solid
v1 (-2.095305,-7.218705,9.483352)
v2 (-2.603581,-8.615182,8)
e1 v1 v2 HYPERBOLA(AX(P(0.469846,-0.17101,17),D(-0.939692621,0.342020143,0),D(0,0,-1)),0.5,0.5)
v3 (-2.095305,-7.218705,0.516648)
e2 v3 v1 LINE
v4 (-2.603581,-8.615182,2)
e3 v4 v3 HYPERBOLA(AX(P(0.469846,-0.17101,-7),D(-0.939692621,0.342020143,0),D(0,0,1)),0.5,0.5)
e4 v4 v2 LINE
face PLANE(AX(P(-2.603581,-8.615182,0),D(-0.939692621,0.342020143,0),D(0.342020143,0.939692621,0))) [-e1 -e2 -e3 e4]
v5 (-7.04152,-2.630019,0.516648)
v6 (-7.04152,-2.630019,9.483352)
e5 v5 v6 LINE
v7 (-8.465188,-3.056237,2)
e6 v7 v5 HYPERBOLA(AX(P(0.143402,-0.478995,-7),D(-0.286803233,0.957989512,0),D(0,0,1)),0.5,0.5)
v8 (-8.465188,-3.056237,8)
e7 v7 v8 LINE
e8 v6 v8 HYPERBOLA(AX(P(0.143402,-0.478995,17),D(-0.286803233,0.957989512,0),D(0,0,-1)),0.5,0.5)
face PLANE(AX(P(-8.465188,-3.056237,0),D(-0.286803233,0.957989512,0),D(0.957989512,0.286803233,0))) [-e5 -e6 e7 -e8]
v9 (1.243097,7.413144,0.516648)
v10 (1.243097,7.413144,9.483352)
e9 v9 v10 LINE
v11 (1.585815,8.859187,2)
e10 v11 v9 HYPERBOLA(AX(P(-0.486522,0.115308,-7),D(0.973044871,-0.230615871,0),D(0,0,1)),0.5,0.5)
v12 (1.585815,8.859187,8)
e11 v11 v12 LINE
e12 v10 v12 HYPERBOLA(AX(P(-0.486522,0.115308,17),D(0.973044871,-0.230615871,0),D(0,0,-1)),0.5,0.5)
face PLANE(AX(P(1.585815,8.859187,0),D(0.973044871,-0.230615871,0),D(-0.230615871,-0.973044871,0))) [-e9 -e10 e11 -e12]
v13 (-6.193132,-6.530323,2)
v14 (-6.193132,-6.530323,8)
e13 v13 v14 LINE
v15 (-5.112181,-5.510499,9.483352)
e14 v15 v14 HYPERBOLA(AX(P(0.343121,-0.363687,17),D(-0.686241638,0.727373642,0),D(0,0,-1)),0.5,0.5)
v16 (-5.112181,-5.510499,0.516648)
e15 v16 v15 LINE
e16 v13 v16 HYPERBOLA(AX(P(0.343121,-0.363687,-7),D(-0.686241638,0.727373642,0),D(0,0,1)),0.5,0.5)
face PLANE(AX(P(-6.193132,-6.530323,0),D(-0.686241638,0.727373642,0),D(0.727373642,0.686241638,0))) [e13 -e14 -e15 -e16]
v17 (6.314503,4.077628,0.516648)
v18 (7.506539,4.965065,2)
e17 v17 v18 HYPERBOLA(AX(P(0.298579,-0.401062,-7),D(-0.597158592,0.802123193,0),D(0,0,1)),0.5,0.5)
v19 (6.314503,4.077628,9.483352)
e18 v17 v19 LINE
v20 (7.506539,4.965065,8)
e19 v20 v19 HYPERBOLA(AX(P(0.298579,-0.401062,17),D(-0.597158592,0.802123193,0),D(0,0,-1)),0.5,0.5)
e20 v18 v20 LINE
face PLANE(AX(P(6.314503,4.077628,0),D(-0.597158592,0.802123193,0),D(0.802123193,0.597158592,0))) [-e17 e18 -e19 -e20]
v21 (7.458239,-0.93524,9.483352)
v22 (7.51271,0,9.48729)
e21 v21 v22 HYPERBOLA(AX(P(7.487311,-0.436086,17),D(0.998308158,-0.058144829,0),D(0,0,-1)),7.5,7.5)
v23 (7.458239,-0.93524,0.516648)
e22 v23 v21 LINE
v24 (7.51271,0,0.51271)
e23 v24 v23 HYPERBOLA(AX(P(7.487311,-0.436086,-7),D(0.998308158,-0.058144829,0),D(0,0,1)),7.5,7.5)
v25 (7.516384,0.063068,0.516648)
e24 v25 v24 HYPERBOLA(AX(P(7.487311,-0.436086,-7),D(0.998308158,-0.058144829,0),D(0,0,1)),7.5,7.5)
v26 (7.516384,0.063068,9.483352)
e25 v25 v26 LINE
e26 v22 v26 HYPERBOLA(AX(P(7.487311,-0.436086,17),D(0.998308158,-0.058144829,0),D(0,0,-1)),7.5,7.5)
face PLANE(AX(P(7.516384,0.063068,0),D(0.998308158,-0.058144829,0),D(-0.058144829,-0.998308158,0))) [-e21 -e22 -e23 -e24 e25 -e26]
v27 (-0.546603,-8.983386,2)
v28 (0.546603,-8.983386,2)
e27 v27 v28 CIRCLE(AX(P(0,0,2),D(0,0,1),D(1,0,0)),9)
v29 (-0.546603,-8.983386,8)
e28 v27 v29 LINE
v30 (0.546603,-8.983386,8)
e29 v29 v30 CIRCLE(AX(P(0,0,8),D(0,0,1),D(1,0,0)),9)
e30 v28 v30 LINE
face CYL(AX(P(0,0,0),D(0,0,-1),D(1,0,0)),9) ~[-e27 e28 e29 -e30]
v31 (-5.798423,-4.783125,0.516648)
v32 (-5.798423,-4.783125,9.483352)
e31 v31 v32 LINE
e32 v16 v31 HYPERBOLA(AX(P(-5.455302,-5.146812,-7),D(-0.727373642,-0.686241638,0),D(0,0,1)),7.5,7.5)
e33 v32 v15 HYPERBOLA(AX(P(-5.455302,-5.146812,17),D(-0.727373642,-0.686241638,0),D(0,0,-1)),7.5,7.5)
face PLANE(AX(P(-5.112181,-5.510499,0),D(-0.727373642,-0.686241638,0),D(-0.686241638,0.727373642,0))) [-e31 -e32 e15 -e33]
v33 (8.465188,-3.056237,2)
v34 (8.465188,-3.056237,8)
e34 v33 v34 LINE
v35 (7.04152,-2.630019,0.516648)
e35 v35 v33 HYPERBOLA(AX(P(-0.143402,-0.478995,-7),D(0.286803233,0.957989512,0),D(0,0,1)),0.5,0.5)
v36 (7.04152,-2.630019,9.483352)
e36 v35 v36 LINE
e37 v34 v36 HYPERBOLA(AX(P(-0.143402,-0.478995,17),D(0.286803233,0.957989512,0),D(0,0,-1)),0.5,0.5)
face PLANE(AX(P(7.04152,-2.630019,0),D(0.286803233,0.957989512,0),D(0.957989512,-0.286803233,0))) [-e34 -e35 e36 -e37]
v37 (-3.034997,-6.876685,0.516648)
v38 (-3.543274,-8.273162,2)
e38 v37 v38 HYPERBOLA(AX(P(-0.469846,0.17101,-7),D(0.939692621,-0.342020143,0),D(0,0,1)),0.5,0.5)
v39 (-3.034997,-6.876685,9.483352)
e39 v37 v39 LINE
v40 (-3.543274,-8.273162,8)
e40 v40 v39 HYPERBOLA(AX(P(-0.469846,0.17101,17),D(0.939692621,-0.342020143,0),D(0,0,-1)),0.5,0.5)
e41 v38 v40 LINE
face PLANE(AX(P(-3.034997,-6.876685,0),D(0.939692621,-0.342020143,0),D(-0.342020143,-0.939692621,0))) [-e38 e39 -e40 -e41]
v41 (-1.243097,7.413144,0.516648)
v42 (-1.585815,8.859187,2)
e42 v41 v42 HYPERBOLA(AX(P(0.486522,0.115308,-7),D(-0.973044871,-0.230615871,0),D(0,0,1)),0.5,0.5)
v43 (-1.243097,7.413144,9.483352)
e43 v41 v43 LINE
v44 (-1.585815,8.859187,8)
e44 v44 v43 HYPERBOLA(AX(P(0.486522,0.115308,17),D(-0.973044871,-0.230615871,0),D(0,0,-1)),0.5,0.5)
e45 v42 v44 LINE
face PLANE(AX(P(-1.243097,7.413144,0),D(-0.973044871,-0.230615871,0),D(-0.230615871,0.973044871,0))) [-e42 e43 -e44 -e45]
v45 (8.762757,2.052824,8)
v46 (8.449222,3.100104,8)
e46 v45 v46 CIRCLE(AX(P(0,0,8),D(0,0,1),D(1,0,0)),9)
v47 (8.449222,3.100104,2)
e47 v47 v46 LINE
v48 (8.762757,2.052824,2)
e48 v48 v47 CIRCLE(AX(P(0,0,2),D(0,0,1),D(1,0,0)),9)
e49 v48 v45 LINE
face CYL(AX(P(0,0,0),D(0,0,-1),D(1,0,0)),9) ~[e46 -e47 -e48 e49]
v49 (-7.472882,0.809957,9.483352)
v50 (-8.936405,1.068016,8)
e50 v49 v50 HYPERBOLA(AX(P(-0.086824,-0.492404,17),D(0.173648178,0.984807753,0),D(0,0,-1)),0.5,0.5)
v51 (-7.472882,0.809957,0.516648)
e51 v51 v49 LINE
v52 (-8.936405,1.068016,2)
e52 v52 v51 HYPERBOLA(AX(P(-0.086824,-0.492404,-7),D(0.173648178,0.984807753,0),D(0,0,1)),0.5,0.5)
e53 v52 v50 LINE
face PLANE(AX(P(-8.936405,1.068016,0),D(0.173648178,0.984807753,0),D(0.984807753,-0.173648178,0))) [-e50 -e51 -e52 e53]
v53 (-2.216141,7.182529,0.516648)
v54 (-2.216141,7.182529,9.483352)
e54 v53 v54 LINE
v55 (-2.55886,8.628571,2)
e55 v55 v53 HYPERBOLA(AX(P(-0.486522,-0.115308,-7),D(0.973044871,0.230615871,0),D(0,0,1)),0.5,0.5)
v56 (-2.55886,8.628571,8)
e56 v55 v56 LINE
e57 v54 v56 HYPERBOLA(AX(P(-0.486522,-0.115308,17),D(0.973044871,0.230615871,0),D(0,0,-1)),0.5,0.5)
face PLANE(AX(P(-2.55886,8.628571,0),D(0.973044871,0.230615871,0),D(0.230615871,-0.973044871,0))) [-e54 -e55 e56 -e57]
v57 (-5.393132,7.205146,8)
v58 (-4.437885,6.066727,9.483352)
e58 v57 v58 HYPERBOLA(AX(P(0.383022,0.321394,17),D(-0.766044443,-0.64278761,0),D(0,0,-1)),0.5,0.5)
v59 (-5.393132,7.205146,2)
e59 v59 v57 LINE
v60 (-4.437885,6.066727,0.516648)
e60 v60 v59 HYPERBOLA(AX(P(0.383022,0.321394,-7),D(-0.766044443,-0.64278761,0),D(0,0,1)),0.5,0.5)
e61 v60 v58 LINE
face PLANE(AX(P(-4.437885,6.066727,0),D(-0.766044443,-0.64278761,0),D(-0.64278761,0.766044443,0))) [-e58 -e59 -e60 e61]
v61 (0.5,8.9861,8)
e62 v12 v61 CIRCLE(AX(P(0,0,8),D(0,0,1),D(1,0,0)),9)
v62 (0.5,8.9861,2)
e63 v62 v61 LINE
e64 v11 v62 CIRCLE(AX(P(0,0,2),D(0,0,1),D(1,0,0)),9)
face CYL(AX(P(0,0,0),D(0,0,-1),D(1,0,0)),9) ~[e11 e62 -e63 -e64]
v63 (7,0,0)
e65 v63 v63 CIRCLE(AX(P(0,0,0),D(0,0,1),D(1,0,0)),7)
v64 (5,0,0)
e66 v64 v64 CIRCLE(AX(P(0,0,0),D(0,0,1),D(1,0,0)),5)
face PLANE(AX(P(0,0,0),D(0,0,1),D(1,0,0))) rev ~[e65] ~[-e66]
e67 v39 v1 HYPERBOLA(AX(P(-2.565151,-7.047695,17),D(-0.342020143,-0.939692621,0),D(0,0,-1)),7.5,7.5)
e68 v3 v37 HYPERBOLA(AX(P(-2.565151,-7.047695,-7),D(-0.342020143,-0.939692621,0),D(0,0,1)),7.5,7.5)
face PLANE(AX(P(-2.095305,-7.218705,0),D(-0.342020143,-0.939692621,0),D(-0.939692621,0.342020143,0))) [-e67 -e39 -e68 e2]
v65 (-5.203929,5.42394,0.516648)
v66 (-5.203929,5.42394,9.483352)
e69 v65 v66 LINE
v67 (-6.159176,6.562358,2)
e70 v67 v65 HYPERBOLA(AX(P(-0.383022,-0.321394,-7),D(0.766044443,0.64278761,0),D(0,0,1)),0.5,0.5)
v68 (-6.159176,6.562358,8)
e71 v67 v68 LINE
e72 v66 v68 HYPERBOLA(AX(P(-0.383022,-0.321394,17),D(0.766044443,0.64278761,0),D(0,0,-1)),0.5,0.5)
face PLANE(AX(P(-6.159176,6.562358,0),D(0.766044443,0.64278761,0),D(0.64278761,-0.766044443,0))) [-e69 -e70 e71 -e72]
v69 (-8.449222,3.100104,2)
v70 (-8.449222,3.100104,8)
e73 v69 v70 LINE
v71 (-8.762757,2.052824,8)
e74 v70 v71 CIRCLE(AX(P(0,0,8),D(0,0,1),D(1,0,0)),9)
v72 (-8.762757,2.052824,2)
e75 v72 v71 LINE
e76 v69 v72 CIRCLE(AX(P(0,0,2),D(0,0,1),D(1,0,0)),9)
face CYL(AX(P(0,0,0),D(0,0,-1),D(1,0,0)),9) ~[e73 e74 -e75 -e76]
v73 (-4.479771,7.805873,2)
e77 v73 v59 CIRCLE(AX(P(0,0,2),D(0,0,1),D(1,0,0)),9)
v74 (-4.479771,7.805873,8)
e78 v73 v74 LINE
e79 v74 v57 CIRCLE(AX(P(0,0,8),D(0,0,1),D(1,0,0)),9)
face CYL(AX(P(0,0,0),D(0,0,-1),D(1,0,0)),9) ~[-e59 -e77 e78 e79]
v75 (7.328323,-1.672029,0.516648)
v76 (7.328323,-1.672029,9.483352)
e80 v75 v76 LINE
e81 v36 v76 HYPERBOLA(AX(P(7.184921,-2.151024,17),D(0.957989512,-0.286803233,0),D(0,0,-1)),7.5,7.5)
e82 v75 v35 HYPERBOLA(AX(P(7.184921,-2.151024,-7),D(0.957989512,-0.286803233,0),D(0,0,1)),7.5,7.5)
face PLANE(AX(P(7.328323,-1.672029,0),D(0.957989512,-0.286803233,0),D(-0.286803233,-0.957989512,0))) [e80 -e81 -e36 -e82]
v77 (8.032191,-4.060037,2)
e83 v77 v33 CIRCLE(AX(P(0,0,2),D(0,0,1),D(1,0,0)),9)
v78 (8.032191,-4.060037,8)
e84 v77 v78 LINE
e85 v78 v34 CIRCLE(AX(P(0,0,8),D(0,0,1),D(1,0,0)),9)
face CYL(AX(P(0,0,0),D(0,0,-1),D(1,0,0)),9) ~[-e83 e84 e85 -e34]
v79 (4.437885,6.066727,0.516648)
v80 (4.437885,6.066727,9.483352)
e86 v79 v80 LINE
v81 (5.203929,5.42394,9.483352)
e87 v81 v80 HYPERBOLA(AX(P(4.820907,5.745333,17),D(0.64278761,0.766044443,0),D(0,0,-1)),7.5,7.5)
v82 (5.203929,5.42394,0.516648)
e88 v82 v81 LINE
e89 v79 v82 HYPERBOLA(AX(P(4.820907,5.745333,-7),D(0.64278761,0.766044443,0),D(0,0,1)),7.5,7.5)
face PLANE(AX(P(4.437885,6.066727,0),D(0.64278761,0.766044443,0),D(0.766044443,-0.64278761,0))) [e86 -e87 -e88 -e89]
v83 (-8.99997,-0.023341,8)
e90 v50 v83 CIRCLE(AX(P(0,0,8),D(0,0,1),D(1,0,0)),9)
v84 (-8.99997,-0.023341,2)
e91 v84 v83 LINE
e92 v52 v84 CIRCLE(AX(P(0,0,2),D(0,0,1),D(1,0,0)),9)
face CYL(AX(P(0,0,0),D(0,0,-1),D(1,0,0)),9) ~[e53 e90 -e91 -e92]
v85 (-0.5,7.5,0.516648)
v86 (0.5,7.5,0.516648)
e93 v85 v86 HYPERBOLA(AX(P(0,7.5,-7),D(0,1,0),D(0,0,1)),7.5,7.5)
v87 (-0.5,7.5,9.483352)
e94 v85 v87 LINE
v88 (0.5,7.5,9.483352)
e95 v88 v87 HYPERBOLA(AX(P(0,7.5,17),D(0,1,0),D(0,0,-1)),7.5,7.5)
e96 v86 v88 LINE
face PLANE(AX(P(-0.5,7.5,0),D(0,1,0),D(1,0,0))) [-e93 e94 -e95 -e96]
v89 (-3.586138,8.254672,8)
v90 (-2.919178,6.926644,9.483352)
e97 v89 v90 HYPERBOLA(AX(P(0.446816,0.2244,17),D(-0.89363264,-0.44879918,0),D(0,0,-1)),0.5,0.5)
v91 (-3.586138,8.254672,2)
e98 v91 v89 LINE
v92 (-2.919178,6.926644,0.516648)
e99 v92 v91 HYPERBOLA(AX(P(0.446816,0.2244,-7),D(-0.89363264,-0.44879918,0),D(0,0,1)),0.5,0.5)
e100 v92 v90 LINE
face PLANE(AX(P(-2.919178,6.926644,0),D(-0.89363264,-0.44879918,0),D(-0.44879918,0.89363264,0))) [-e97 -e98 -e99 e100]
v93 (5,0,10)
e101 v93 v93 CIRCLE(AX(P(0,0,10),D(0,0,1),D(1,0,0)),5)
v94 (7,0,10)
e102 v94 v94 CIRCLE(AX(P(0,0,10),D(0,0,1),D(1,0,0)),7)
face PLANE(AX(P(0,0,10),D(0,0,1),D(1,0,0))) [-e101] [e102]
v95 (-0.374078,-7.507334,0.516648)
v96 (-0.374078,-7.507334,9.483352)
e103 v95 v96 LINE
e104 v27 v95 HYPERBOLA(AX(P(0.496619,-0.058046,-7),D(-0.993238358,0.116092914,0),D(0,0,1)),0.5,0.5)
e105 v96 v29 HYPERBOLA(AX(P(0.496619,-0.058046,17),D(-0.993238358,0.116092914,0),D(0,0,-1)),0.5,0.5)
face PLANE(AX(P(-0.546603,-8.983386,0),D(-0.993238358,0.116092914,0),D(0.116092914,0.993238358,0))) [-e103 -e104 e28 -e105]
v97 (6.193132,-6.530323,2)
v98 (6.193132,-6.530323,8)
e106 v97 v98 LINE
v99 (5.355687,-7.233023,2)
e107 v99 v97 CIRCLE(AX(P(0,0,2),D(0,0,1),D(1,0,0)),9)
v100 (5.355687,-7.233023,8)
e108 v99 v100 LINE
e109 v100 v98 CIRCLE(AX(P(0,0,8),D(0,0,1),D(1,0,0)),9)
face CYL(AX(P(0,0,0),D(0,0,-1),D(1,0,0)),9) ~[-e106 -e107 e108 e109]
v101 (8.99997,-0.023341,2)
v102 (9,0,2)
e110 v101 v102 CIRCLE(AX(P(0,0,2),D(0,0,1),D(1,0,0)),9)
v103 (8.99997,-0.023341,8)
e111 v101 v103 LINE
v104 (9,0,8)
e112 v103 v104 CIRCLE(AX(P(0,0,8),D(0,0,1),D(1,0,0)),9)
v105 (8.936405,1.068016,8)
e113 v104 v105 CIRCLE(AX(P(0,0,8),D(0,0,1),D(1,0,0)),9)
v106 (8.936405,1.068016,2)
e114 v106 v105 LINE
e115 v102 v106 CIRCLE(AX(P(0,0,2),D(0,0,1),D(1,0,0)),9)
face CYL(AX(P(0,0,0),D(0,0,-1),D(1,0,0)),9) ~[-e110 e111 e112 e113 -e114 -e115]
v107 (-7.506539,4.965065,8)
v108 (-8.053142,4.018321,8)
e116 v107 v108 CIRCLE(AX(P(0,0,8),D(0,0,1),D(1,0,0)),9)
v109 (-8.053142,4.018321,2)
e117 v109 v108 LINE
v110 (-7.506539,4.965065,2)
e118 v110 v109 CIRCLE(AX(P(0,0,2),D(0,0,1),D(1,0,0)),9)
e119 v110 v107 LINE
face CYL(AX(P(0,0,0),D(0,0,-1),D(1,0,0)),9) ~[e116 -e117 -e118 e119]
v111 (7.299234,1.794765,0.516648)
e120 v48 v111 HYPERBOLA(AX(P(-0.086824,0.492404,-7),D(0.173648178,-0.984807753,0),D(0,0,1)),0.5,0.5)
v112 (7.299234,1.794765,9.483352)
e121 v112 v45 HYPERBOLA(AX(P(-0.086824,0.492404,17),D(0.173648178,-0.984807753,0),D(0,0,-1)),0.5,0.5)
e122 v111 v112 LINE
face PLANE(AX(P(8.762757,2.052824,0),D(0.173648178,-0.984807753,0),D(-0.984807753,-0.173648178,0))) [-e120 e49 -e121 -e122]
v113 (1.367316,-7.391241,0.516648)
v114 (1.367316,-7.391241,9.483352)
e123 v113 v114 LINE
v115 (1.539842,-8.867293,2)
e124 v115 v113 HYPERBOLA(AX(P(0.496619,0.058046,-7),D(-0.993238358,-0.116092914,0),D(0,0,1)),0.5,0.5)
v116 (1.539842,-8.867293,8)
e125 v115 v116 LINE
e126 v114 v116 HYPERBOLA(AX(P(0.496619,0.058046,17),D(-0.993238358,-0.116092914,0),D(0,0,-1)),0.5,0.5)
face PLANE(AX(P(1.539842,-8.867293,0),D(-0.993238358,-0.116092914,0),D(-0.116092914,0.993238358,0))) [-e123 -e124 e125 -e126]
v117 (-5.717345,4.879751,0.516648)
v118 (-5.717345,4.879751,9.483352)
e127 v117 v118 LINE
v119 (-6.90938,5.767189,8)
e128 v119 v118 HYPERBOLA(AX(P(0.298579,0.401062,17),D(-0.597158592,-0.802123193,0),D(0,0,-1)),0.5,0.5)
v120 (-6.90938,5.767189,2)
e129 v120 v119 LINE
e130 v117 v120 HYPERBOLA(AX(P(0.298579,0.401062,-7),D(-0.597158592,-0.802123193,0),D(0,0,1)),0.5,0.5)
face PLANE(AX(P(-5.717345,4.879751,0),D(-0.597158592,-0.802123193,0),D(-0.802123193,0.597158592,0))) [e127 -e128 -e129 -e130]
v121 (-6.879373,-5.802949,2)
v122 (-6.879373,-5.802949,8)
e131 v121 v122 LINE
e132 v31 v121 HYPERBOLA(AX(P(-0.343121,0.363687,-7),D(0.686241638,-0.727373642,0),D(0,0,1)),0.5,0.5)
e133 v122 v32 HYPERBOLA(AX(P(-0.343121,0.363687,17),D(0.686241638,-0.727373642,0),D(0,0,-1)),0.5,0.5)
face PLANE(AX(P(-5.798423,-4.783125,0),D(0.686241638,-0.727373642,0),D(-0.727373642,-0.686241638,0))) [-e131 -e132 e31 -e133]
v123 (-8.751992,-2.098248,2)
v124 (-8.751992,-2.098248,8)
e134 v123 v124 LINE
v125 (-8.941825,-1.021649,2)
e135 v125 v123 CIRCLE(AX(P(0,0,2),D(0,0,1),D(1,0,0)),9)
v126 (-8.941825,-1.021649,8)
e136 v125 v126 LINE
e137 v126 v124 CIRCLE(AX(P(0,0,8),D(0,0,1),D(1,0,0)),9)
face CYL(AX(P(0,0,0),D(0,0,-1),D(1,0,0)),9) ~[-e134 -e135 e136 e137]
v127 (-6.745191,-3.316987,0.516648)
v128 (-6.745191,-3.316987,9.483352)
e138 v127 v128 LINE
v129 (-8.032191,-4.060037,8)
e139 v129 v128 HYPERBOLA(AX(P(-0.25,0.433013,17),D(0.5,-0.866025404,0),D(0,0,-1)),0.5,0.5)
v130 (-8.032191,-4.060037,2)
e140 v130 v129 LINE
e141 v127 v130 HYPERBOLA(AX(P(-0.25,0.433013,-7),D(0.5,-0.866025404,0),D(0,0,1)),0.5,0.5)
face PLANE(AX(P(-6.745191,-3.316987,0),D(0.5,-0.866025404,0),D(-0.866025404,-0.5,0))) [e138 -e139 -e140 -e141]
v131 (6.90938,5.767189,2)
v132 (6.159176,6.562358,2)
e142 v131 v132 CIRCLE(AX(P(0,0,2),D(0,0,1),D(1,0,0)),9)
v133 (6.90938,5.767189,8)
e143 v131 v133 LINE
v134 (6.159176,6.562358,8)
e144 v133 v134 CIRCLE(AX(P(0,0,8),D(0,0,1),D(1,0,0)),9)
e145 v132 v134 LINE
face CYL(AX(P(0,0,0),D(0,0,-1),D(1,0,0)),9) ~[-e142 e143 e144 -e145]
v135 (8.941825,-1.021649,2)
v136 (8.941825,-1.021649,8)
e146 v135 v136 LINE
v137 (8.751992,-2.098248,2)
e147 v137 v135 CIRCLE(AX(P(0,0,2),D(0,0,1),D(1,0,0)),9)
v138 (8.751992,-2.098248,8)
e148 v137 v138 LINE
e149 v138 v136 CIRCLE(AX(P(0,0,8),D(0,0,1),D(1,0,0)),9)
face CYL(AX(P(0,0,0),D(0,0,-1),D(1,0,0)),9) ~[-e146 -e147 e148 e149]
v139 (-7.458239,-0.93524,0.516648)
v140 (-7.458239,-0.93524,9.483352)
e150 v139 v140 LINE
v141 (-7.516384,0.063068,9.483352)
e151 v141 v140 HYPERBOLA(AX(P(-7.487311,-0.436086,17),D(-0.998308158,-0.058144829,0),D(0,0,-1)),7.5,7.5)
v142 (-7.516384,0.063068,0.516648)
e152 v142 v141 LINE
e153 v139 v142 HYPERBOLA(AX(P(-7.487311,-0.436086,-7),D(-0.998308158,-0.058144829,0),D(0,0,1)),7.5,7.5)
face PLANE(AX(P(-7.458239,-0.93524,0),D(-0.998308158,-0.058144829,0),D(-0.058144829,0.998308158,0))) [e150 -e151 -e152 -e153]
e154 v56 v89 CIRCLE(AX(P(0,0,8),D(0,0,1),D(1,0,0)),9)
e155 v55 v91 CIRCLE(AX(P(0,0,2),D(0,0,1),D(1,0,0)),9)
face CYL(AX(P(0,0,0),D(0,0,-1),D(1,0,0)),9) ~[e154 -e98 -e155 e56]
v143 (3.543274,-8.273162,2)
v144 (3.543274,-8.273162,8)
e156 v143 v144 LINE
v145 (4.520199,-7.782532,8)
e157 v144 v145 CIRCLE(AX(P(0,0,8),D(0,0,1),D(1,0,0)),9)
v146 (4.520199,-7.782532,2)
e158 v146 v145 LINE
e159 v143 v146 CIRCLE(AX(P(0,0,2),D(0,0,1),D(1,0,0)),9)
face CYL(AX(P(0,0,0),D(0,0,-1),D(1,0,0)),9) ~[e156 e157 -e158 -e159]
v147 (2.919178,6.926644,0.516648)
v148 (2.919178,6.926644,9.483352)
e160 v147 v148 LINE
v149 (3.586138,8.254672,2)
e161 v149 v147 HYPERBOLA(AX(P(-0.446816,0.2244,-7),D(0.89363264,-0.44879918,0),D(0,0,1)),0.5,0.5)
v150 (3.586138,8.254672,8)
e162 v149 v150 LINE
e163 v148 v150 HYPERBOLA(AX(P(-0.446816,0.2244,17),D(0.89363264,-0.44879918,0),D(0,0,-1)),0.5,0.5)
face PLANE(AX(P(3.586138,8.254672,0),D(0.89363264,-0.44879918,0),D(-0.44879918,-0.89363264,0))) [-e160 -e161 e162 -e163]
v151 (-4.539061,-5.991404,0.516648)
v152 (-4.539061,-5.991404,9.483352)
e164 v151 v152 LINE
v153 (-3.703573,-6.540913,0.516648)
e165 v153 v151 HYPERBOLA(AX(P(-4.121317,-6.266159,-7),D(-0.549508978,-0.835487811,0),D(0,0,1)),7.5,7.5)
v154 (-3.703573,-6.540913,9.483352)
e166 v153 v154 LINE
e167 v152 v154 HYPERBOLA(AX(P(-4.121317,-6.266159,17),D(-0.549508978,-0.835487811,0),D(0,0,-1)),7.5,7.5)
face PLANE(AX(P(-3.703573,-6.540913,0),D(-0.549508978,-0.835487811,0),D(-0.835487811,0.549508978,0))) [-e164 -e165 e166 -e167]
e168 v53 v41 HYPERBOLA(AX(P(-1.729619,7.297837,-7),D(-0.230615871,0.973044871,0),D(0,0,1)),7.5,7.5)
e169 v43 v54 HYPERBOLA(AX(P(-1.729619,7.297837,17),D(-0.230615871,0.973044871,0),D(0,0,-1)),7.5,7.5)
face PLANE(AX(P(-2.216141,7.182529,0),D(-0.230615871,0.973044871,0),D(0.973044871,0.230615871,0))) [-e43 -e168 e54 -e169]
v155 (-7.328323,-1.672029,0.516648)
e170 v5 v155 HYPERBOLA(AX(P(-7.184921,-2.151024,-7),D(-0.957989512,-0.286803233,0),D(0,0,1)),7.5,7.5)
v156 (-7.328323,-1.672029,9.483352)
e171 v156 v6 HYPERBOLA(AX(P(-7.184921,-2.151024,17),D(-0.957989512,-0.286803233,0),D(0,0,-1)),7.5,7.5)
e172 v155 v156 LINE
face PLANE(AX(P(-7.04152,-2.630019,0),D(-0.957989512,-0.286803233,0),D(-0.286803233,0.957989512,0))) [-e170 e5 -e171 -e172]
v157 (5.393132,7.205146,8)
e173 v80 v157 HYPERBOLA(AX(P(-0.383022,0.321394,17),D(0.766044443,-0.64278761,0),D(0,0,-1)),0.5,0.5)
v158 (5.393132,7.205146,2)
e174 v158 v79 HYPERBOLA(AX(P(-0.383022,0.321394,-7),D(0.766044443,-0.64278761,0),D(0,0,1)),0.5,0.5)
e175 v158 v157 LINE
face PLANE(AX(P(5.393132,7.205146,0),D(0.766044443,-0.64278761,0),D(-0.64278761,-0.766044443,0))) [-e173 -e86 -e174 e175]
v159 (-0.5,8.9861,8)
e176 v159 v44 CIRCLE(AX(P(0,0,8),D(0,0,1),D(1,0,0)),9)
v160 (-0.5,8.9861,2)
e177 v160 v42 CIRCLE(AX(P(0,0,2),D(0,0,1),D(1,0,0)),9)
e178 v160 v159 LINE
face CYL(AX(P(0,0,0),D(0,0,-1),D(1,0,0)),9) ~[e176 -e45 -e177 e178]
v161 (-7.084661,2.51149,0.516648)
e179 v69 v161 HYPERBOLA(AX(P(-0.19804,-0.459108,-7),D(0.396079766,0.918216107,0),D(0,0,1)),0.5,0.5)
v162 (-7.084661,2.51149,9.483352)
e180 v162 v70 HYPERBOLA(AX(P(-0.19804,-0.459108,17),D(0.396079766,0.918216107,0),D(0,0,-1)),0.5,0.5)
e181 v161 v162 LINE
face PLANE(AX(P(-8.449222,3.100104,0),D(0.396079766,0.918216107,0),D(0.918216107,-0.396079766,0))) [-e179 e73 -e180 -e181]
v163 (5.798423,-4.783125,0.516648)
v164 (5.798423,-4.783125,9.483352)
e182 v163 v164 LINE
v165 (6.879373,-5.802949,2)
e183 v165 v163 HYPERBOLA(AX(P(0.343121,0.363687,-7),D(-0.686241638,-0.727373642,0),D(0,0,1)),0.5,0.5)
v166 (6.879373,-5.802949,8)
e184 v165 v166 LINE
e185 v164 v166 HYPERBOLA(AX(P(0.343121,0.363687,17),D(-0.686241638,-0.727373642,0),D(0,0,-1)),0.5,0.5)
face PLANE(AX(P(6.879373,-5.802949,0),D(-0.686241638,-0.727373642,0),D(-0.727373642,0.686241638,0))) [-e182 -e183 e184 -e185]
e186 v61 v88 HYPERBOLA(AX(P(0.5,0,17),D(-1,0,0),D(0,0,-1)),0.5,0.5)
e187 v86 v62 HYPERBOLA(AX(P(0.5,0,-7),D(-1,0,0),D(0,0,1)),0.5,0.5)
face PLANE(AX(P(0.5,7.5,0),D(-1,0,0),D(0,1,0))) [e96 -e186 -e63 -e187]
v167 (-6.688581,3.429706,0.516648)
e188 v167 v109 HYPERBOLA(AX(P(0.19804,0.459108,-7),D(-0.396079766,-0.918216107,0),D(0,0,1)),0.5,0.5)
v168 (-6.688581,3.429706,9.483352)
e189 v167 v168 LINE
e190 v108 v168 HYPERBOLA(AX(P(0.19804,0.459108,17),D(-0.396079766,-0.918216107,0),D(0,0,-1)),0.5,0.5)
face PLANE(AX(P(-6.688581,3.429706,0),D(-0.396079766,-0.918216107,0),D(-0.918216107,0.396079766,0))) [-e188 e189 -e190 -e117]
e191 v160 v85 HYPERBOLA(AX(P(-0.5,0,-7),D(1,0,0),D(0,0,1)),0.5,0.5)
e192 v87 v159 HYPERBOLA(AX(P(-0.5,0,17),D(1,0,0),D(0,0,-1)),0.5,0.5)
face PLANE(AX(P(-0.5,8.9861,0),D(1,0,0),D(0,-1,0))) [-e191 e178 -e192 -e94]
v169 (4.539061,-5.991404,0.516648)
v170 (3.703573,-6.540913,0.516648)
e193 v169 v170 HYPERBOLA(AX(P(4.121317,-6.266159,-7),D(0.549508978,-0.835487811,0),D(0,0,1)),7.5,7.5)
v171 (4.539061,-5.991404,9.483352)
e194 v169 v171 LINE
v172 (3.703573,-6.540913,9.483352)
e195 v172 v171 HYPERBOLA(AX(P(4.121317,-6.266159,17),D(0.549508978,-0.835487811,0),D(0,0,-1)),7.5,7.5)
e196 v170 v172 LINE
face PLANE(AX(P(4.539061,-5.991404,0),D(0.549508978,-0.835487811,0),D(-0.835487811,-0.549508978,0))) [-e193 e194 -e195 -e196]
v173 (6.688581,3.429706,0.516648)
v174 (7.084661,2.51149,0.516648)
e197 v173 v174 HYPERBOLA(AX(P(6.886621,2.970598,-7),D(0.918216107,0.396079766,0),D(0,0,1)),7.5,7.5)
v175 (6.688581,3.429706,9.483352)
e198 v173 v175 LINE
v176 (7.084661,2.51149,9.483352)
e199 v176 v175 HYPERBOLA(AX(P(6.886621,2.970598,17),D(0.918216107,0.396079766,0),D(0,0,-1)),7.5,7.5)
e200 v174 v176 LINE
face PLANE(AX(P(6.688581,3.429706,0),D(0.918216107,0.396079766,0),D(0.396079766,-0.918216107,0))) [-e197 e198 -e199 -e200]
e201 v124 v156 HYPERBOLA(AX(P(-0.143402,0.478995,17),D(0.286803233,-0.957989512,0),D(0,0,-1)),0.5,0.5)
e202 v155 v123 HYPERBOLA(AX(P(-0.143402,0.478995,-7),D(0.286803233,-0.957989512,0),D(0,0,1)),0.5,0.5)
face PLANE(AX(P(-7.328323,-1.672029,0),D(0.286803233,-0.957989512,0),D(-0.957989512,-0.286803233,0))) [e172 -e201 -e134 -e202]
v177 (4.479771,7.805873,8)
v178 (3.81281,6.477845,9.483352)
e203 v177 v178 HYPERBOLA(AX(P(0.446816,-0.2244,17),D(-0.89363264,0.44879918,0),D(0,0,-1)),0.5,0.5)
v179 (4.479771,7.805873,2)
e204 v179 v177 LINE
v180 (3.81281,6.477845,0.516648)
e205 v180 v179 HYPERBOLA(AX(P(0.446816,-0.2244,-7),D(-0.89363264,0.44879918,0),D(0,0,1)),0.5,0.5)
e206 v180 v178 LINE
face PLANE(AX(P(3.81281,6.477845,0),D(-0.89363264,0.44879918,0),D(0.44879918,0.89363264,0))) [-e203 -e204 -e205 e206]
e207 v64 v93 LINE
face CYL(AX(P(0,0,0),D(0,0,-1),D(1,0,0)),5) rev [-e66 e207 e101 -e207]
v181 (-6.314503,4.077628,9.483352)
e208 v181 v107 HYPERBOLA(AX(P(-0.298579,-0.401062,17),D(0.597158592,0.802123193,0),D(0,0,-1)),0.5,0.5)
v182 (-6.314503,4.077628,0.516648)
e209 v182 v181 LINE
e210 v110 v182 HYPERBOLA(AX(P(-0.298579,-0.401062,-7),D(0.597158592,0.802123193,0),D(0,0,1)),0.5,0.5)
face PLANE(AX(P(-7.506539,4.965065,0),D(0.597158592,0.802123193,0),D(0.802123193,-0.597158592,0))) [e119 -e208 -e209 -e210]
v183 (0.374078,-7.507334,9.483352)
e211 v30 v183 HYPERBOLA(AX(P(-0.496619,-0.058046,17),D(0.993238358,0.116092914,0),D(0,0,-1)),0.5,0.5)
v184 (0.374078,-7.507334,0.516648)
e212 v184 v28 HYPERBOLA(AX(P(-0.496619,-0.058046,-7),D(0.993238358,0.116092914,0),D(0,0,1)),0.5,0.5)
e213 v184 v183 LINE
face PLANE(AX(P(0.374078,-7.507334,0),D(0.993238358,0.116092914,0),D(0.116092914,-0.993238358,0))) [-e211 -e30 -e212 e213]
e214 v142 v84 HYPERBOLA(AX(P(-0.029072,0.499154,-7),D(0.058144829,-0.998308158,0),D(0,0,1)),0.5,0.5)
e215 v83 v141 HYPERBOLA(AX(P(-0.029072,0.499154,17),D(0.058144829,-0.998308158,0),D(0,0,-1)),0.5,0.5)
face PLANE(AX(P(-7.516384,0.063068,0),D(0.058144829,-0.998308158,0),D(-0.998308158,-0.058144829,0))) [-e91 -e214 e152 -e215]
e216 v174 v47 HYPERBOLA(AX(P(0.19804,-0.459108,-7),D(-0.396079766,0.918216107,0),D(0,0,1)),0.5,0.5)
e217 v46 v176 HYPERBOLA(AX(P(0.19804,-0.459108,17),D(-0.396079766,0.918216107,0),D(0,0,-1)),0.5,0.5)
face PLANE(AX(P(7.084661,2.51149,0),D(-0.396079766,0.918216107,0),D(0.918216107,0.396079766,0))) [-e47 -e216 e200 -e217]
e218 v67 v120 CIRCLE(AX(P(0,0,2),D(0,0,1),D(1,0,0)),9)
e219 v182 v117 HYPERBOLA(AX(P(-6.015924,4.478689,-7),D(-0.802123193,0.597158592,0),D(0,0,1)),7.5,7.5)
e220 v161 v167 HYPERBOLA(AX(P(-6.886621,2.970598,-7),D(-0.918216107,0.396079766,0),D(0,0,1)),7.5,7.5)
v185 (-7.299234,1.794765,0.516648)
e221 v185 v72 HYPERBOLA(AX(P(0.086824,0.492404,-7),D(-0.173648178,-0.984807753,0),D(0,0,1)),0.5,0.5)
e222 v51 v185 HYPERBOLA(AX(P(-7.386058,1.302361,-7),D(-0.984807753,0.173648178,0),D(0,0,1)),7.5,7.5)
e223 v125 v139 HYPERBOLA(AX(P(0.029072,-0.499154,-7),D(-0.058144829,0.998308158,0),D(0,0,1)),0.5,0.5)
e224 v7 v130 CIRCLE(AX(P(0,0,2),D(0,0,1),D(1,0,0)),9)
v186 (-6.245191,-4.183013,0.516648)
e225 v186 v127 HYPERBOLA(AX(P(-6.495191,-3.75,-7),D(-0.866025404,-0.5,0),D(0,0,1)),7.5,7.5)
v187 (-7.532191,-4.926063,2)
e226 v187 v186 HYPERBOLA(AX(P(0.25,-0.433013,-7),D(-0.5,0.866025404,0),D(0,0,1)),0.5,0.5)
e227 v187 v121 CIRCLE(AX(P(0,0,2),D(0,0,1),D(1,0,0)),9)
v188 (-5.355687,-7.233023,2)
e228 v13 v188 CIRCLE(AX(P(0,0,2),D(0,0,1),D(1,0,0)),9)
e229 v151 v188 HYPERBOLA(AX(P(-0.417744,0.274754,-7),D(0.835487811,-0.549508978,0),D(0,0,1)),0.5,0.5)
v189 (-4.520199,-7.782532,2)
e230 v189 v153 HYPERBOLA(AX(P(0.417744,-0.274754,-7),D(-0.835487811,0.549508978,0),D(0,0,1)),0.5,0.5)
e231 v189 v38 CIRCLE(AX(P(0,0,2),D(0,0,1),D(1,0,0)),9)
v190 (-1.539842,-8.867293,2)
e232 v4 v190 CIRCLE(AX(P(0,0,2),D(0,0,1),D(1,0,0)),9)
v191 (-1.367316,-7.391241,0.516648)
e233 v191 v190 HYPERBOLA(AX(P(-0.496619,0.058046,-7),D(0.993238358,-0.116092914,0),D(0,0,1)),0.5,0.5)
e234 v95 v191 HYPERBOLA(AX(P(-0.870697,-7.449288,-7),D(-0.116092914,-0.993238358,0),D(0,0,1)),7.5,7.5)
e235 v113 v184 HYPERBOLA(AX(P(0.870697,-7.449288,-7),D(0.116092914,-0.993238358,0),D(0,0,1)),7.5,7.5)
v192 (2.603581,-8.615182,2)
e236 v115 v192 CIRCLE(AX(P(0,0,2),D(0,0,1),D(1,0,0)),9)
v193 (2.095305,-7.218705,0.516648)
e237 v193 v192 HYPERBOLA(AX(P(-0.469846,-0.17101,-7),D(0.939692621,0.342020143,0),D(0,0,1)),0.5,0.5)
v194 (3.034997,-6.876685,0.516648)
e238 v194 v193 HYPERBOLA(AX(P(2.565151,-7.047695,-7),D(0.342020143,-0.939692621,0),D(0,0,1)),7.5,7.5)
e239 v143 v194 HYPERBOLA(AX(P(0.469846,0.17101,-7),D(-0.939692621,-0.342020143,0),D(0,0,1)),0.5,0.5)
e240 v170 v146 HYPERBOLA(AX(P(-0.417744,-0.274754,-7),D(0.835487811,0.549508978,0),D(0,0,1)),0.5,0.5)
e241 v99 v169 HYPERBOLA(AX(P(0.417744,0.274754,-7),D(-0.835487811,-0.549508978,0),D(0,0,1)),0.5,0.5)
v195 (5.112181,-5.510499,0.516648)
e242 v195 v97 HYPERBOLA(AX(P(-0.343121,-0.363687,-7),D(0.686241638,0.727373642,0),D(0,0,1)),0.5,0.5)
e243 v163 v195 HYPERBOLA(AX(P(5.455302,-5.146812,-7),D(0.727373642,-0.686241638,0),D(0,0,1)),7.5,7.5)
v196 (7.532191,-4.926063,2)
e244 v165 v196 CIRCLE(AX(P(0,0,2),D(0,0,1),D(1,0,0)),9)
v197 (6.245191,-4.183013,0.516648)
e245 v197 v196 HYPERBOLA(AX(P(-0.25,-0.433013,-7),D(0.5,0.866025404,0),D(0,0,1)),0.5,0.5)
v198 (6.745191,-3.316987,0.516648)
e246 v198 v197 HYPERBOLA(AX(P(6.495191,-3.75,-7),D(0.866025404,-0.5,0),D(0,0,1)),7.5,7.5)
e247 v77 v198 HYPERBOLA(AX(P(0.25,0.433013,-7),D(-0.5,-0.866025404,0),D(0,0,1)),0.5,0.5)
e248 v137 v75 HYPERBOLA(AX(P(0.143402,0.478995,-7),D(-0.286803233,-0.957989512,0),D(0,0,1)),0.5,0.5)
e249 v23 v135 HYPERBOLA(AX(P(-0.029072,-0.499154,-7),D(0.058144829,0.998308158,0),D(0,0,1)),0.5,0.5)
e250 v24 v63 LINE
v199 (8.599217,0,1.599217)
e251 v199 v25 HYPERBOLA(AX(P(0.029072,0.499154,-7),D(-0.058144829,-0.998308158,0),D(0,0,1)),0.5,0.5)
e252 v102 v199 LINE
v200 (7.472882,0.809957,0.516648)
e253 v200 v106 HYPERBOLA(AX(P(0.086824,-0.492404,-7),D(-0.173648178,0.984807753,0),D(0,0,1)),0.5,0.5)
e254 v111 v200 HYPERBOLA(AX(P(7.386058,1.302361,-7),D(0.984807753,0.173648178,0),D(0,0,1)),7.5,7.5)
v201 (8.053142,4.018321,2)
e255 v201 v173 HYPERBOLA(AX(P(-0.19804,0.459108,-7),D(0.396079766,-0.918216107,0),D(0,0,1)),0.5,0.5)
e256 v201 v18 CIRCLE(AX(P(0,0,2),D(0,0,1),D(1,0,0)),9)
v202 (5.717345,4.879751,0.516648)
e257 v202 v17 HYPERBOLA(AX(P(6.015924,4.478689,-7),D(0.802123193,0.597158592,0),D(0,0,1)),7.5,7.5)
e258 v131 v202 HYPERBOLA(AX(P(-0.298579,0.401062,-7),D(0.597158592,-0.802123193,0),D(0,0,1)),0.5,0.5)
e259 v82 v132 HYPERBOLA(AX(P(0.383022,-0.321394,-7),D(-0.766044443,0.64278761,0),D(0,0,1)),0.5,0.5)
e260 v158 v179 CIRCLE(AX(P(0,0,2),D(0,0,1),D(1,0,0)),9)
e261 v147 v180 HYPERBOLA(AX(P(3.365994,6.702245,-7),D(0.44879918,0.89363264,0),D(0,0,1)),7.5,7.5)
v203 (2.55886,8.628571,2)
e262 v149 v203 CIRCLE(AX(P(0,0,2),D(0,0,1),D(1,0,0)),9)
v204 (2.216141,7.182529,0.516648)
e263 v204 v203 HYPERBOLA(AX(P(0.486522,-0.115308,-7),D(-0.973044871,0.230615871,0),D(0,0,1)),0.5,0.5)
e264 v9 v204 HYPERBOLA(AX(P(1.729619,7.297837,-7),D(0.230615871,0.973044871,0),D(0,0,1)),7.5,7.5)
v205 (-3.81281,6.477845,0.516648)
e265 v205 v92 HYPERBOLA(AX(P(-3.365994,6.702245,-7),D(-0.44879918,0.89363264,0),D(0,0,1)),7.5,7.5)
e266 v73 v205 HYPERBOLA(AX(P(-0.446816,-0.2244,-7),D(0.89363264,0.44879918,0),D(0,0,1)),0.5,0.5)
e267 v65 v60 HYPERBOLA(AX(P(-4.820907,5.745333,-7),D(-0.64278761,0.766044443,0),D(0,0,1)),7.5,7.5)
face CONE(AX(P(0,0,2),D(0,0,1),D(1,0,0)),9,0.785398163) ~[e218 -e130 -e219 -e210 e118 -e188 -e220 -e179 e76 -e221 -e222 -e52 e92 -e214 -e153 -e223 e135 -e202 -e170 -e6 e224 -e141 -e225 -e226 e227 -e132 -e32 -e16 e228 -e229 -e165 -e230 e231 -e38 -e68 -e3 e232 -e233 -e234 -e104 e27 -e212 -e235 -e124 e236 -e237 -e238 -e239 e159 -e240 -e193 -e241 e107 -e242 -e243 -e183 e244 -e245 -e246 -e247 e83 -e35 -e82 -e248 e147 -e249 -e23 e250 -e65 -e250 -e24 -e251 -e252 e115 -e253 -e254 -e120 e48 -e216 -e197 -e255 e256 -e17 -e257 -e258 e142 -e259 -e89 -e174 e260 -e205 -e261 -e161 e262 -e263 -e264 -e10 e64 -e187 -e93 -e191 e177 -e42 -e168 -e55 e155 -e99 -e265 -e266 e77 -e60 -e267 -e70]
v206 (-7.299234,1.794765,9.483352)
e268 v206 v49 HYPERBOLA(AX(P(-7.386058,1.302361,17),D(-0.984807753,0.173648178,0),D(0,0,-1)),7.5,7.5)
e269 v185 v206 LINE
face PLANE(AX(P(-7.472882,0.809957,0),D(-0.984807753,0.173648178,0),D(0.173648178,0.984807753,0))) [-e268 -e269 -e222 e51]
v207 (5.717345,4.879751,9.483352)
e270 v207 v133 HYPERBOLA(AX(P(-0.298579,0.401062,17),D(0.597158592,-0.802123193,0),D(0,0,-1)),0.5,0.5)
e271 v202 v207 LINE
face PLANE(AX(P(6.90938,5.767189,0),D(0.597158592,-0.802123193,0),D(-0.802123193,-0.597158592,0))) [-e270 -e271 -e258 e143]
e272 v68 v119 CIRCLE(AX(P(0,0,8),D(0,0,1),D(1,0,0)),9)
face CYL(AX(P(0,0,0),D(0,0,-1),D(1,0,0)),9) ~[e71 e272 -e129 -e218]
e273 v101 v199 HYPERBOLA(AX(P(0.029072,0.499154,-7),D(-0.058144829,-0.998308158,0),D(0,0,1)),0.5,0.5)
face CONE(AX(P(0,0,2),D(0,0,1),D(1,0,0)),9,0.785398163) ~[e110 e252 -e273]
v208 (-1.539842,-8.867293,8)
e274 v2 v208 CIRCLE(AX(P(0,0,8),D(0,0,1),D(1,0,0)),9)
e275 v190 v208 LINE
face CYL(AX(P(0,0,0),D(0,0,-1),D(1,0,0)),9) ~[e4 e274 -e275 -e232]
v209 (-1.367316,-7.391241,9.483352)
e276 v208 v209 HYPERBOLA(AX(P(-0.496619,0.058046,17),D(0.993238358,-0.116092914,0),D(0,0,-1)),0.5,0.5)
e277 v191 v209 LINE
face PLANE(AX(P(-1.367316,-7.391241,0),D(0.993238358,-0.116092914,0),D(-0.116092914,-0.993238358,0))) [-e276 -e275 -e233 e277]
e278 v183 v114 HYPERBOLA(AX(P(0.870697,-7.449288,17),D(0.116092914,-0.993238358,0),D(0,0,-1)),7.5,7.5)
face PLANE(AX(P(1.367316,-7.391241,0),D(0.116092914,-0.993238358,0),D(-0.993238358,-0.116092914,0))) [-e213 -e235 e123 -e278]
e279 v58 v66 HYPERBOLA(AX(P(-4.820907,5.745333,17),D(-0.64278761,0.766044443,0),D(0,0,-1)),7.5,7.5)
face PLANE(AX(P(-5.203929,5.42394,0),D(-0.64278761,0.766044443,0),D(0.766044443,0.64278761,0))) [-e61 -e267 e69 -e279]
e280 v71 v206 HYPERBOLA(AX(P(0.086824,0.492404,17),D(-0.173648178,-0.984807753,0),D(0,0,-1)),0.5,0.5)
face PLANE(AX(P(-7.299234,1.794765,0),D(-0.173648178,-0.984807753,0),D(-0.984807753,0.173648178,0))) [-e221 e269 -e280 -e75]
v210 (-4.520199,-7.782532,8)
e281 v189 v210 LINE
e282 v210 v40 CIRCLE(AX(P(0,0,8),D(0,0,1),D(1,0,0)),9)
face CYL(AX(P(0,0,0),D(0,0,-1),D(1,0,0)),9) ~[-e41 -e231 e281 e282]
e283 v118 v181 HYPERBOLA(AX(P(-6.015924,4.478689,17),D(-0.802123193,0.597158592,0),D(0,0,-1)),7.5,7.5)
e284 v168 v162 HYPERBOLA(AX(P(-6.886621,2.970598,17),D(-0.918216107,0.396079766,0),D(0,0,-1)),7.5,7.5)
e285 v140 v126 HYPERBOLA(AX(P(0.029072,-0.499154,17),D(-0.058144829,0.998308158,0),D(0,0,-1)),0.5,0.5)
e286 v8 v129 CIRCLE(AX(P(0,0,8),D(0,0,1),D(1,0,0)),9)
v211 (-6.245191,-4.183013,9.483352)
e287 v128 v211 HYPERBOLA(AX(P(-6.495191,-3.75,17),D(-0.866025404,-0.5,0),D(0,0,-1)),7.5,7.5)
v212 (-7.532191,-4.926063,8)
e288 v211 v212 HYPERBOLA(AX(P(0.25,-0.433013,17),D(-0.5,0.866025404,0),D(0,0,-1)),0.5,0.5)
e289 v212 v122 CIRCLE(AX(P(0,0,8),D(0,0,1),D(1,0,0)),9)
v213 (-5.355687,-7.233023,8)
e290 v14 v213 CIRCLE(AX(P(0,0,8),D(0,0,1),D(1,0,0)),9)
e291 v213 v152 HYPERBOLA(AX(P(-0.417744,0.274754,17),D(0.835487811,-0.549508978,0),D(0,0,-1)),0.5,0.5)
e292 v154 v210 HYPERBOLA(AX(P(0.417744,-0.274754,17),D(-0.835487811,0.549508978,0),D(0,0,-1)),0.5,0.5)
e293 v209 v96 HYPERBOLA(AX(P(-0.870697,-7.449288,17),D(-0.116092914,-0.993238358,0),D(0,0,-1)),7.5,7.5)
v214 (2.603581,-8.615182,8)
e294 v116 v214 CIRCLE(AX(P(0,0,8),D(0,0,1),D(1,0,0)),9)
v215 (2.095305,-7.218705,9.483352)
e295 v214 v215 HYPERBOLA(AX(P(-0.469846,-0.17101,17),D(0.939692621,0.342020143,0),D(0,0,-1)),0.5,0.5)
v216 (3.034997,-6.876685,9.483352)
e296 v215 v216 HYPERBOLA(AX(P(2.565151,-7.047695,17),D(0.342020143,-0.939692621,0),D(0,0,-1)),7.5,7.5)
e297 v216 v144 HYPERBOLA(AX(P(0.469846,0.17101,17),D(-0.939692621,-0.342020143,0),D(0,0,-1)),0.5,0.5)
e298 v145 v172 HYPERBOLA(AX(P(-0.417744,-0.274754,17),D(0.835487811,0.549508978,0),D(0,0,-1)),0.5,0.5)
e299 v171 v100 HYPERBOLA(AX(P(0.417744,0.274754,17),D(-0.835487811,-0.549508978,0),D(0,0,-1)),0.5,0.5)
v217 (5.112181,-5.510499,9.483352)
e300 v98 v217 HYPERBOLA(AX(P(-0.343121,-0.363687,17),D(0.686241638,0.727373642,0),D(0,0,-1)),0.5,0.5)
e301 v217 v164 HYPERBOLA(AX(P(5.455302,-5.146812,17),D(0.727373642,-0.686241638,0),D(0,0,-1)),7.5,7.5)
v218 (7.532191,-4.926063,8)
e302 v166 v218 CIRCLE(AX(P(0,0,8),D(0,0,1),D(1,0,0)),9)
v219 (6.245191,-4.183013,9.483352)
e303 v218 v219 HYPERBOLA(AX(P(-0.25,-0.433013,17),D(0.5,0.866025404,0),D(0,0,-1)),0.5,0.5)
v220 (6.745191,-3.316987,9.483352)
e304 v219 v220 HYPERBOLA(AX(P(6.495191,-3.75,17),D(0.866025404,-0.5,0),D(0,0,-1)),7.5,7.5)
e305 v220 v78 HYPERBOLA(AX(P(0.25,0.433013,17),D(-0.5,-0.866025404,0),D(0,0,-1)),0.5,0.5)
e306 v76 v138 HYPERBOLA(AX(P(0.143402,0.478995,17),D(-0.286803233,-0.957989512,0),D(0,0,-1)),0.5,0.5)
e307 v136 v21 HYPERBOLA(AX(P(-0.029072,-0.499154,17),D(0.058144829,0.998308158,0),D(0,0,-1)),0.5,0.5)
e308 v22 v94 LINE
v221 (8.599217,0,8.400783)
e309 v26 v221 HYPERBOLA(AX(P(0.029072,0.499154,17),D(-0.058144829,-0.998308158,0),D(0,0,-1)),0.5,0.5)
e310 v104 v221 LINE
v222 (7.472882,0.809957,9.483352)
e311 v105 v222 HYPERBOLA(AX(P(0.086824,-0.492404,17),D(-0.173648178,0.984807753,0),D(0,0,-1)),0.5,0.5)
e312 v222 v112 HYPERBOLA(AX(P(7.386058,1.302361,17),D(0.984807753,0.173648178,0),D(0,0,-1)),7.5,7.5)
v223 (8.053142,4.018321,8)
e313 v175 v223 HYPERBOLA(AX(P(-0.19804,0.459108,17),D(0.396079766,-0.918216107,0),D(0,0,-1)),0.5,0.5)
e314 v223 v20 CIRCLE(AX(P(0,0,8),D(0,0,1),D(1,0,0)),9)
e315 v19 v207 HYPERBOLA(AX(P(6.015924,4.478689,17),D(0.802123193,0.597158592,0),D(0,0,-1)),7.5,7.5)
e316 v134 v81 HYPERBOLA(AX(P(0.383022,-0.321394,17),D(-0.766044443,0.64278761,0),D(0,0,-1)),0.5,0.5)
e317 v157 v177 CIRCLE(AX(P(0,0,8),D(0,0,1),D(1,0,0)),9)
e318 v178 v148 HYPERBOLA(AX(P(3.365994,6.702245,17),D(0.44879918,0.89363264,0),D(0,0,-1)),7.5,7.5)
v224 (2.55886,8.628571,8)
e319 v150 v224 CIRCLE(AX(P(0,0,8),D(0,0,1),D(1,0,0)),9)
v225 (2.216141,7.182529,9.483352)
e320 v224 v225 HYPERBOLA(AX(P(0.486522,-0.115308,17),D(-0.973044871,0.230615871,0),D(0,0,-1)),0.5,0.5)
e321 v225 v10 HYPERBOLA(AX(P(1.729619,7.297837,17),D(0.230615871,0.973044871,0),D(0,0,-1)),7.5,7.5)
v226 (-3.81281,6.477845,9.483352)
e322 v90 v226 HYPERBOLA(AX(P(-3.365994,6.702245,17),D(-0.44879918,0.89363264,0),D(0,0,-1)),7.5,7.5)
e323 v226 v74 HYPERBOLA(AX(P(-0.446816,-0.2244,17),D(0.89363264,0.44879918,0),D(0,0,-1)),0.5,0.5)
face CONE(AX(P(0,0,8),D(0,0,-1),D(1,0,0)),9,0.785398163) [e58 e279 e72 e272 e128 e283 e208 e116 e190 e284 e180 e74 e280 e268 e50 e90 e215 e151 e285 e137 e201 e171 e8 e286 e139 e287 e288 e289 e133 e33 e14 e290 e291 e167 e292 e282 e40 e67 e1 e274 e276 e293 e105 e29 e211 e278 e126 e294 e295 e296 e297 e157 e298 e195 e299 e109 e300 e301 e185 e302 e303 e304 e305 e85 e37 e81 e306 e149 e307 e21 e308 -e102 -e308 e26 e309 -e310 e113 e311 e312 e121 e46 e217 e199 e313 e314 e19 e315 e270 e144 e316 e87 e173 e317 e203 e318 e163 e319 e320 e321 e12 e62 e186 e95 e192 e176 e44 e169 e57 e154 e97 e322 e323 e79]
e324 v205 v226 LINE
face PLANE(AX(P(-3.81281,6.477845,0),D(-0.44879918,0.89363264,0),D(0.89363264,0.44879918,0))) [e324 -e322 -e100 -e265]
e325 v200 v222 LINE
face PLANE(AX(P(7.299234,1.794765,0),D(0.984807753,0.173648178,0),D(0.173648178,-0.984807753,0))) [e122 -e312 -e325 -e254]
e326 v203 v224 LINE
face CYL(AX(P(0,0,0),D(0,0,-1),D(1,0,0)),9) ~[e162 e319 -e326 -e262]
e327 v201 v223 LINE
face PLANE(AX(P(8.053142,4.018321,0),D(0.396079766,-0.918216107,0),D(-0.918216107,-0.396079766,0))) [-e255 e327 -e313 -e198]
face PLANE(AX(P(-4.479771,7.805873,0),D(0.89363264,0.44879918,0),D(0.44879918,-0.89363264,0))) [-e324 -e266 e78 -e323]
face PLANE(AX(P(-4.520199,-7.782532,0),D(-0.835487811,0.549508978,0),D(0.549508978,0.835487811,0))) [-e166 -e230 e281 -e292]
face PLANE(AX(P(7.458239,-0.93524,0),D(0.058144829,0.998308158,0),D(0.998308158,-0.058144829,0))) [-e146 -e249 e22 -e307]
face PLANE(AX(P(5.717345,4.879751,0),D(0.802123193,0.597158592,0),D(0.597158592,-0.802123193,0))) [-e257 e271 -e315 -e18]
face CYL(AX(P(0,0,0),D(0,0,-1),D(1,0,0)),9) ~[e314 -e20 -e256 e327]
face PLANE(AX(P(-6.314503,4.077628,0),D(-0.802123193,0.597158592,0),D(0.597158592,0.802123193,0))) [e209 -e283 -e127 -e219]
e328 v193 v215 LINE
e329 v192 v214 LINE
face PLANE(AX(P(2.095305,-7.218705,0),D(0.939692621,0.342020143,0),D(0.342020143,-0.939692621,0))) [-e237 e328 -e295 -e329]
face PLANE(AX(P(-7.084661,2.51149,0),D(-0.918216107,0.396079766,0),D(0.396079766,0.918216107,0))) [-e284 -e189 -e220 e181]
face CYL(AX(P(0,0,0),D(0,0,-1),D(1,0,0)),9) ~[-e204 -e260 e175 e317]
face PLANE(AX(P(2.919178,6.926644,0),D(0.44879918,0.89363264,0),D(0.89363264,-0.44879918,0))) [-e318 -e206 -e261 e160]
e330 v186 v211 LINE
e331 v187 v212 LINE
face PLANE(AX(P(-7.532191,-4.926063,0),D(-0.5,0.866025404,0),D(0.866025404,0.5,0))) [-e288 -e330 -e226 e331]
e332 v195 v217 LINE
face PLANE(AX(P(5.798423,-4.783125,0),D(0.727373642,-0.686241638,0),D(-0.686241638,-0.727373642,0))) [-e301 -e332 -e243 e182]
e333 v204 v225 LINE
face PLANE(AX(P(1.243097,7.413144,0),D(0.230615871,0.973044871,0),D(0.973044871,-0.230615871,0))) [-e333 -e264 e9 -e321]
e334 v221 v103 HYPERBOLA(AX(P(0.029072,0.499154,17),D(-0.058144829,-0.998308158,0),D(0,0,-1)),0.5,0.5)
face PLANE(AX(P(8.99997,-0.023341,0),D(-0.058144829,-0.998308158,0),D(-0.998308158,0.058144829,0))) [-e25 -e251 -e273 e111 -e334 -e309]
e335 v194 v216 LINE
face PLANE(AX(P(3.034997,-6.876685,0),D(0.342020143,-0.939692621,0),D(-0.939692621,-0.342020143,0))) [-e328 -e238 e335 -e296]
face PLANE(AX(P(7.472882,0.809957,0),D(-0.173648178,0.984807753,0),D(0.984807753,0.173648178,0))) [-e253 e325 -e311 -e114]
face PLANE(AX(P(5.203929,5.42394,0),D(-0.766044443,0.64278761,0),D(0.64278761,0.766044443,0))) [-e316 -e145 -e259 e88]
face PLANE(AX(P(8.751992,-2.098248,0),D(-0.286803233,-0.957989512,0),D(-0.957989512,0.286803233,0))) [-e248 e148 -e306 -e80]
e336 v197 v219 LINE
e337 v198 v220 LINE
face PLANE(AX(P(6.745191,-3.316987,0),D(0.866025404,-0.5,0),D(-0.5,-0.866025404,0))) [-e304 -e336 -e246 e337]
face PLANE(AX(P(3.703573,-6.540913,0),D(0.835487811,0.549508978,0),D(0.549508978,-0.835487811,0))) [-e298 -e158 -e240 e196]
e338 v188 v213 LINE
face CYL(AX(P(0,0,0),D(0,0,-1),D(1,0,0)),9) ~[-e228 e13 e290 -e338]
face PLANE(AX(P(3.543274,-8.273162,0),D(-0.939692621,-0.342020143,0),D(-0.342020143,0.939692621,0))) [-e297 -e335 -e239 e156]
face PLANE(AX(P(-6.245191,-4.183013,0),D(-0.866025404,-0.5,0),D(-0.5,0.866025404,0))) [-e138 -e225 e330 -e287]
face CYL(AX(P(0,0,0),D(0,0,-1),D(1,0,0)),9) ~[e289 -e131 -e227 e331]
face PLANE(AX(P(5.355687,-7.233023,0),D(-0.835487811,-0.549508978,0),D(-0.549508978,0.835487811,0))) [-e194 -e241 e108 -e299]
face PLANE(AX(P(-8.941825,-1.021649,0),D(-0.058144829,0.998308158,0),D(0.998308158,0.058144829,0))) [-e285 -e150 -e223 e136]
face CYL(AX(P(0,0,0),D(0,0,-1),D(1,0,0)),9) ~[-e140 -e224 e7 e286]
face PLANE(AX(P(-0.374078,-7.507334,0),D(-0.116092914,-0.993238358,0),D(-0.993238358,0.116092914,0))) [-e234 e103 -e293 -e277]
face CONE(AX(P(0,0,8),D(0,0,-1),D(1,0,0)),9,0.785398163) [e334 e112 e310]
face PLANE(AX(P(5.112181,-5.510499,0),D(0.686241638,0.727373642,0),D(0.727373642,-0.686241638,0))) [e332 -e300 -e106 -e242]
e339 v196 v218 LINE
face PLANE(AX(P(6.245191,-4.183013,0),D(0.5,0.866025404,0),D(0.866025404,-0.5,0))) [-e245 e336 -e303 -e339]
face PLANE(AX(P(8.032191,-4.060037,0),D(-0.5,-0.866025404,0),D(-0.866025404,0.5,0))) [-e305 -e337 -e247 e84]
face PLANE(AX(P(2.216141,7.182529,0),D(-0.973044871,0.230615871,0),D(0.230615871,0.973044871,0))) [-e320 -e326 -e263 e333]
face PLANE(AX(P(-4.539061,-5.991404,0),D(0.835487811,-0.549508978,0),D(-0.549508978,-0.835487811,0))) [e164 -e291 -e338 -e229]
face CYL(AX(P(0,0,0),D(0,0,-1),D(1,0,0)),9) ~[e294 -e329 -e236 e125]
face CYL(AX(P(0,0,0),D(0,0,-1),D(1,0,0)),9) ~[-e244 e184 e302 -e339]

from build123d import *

# Parameters (mm, degrees)
SKETCH1_R           = 9
SKETCH1_R_2         = 5
BOSS_EXTRUDE1_DEPTH = 10
CHAMFER1_SIZE       = 2
CUT_EXTRUDE1_DEPTH  = 11
CIRPATTERN1_COUNT   = 27


with BuildPart() as part:
    # Sketch1 → Boss-Extrude1 (new body)
    with BuildSketch(Plane.XY):
        Circle(SKETCH1_R)
        Circle(SKETCH1_R_2, mode=Mode.SUBTRACT)
    extrude(amount=BOSS_EXTRUDE1_DEPTH)

    # Chamfer1
    chamfer1_edges = [part.edges().sort_by_distance(p)[0] for p in [
        (-9, 0, 0),
        (-9, 0, 10),
    ]]
    chamfer(chamfer1_edges, length=CHAMFER1_SIZE)

    # Sketch2 → Cut-Extrude1 (cut, through all)
    with BuildSketch(Plane.XY):
        with BuildLine():
            Line((0.5, 7.5), (0.5, 8.986100378))
            ThreePointArc((0.5, 8.986100378), (0, 9), (-0.5, 8.986100378))
            Line((-0.5, 8.986100378), (-0.5, 7.5))
            Line((-0.5, 7.5), (0.5, 7.5))
        make_face()
    cut_extrude1 = extrude(amount=CUT_EXTRUDE1_DEPTH, mode=Mode.SUBTRACT)

    # CirPattern1: Cut-Extrude1 ×27 about axis
    cirpattern1_axis = Axis((0, 0, 0), (0, 0, 1))
    for i in range(1, CIRPATTERN1_COUNT):
        add(cut_extrude1.rotate(cirpattern1_axis, i * 360 / CIRPATTERN1_COUNT), mode=Mode.SUBTRACT)


solid = part.part
